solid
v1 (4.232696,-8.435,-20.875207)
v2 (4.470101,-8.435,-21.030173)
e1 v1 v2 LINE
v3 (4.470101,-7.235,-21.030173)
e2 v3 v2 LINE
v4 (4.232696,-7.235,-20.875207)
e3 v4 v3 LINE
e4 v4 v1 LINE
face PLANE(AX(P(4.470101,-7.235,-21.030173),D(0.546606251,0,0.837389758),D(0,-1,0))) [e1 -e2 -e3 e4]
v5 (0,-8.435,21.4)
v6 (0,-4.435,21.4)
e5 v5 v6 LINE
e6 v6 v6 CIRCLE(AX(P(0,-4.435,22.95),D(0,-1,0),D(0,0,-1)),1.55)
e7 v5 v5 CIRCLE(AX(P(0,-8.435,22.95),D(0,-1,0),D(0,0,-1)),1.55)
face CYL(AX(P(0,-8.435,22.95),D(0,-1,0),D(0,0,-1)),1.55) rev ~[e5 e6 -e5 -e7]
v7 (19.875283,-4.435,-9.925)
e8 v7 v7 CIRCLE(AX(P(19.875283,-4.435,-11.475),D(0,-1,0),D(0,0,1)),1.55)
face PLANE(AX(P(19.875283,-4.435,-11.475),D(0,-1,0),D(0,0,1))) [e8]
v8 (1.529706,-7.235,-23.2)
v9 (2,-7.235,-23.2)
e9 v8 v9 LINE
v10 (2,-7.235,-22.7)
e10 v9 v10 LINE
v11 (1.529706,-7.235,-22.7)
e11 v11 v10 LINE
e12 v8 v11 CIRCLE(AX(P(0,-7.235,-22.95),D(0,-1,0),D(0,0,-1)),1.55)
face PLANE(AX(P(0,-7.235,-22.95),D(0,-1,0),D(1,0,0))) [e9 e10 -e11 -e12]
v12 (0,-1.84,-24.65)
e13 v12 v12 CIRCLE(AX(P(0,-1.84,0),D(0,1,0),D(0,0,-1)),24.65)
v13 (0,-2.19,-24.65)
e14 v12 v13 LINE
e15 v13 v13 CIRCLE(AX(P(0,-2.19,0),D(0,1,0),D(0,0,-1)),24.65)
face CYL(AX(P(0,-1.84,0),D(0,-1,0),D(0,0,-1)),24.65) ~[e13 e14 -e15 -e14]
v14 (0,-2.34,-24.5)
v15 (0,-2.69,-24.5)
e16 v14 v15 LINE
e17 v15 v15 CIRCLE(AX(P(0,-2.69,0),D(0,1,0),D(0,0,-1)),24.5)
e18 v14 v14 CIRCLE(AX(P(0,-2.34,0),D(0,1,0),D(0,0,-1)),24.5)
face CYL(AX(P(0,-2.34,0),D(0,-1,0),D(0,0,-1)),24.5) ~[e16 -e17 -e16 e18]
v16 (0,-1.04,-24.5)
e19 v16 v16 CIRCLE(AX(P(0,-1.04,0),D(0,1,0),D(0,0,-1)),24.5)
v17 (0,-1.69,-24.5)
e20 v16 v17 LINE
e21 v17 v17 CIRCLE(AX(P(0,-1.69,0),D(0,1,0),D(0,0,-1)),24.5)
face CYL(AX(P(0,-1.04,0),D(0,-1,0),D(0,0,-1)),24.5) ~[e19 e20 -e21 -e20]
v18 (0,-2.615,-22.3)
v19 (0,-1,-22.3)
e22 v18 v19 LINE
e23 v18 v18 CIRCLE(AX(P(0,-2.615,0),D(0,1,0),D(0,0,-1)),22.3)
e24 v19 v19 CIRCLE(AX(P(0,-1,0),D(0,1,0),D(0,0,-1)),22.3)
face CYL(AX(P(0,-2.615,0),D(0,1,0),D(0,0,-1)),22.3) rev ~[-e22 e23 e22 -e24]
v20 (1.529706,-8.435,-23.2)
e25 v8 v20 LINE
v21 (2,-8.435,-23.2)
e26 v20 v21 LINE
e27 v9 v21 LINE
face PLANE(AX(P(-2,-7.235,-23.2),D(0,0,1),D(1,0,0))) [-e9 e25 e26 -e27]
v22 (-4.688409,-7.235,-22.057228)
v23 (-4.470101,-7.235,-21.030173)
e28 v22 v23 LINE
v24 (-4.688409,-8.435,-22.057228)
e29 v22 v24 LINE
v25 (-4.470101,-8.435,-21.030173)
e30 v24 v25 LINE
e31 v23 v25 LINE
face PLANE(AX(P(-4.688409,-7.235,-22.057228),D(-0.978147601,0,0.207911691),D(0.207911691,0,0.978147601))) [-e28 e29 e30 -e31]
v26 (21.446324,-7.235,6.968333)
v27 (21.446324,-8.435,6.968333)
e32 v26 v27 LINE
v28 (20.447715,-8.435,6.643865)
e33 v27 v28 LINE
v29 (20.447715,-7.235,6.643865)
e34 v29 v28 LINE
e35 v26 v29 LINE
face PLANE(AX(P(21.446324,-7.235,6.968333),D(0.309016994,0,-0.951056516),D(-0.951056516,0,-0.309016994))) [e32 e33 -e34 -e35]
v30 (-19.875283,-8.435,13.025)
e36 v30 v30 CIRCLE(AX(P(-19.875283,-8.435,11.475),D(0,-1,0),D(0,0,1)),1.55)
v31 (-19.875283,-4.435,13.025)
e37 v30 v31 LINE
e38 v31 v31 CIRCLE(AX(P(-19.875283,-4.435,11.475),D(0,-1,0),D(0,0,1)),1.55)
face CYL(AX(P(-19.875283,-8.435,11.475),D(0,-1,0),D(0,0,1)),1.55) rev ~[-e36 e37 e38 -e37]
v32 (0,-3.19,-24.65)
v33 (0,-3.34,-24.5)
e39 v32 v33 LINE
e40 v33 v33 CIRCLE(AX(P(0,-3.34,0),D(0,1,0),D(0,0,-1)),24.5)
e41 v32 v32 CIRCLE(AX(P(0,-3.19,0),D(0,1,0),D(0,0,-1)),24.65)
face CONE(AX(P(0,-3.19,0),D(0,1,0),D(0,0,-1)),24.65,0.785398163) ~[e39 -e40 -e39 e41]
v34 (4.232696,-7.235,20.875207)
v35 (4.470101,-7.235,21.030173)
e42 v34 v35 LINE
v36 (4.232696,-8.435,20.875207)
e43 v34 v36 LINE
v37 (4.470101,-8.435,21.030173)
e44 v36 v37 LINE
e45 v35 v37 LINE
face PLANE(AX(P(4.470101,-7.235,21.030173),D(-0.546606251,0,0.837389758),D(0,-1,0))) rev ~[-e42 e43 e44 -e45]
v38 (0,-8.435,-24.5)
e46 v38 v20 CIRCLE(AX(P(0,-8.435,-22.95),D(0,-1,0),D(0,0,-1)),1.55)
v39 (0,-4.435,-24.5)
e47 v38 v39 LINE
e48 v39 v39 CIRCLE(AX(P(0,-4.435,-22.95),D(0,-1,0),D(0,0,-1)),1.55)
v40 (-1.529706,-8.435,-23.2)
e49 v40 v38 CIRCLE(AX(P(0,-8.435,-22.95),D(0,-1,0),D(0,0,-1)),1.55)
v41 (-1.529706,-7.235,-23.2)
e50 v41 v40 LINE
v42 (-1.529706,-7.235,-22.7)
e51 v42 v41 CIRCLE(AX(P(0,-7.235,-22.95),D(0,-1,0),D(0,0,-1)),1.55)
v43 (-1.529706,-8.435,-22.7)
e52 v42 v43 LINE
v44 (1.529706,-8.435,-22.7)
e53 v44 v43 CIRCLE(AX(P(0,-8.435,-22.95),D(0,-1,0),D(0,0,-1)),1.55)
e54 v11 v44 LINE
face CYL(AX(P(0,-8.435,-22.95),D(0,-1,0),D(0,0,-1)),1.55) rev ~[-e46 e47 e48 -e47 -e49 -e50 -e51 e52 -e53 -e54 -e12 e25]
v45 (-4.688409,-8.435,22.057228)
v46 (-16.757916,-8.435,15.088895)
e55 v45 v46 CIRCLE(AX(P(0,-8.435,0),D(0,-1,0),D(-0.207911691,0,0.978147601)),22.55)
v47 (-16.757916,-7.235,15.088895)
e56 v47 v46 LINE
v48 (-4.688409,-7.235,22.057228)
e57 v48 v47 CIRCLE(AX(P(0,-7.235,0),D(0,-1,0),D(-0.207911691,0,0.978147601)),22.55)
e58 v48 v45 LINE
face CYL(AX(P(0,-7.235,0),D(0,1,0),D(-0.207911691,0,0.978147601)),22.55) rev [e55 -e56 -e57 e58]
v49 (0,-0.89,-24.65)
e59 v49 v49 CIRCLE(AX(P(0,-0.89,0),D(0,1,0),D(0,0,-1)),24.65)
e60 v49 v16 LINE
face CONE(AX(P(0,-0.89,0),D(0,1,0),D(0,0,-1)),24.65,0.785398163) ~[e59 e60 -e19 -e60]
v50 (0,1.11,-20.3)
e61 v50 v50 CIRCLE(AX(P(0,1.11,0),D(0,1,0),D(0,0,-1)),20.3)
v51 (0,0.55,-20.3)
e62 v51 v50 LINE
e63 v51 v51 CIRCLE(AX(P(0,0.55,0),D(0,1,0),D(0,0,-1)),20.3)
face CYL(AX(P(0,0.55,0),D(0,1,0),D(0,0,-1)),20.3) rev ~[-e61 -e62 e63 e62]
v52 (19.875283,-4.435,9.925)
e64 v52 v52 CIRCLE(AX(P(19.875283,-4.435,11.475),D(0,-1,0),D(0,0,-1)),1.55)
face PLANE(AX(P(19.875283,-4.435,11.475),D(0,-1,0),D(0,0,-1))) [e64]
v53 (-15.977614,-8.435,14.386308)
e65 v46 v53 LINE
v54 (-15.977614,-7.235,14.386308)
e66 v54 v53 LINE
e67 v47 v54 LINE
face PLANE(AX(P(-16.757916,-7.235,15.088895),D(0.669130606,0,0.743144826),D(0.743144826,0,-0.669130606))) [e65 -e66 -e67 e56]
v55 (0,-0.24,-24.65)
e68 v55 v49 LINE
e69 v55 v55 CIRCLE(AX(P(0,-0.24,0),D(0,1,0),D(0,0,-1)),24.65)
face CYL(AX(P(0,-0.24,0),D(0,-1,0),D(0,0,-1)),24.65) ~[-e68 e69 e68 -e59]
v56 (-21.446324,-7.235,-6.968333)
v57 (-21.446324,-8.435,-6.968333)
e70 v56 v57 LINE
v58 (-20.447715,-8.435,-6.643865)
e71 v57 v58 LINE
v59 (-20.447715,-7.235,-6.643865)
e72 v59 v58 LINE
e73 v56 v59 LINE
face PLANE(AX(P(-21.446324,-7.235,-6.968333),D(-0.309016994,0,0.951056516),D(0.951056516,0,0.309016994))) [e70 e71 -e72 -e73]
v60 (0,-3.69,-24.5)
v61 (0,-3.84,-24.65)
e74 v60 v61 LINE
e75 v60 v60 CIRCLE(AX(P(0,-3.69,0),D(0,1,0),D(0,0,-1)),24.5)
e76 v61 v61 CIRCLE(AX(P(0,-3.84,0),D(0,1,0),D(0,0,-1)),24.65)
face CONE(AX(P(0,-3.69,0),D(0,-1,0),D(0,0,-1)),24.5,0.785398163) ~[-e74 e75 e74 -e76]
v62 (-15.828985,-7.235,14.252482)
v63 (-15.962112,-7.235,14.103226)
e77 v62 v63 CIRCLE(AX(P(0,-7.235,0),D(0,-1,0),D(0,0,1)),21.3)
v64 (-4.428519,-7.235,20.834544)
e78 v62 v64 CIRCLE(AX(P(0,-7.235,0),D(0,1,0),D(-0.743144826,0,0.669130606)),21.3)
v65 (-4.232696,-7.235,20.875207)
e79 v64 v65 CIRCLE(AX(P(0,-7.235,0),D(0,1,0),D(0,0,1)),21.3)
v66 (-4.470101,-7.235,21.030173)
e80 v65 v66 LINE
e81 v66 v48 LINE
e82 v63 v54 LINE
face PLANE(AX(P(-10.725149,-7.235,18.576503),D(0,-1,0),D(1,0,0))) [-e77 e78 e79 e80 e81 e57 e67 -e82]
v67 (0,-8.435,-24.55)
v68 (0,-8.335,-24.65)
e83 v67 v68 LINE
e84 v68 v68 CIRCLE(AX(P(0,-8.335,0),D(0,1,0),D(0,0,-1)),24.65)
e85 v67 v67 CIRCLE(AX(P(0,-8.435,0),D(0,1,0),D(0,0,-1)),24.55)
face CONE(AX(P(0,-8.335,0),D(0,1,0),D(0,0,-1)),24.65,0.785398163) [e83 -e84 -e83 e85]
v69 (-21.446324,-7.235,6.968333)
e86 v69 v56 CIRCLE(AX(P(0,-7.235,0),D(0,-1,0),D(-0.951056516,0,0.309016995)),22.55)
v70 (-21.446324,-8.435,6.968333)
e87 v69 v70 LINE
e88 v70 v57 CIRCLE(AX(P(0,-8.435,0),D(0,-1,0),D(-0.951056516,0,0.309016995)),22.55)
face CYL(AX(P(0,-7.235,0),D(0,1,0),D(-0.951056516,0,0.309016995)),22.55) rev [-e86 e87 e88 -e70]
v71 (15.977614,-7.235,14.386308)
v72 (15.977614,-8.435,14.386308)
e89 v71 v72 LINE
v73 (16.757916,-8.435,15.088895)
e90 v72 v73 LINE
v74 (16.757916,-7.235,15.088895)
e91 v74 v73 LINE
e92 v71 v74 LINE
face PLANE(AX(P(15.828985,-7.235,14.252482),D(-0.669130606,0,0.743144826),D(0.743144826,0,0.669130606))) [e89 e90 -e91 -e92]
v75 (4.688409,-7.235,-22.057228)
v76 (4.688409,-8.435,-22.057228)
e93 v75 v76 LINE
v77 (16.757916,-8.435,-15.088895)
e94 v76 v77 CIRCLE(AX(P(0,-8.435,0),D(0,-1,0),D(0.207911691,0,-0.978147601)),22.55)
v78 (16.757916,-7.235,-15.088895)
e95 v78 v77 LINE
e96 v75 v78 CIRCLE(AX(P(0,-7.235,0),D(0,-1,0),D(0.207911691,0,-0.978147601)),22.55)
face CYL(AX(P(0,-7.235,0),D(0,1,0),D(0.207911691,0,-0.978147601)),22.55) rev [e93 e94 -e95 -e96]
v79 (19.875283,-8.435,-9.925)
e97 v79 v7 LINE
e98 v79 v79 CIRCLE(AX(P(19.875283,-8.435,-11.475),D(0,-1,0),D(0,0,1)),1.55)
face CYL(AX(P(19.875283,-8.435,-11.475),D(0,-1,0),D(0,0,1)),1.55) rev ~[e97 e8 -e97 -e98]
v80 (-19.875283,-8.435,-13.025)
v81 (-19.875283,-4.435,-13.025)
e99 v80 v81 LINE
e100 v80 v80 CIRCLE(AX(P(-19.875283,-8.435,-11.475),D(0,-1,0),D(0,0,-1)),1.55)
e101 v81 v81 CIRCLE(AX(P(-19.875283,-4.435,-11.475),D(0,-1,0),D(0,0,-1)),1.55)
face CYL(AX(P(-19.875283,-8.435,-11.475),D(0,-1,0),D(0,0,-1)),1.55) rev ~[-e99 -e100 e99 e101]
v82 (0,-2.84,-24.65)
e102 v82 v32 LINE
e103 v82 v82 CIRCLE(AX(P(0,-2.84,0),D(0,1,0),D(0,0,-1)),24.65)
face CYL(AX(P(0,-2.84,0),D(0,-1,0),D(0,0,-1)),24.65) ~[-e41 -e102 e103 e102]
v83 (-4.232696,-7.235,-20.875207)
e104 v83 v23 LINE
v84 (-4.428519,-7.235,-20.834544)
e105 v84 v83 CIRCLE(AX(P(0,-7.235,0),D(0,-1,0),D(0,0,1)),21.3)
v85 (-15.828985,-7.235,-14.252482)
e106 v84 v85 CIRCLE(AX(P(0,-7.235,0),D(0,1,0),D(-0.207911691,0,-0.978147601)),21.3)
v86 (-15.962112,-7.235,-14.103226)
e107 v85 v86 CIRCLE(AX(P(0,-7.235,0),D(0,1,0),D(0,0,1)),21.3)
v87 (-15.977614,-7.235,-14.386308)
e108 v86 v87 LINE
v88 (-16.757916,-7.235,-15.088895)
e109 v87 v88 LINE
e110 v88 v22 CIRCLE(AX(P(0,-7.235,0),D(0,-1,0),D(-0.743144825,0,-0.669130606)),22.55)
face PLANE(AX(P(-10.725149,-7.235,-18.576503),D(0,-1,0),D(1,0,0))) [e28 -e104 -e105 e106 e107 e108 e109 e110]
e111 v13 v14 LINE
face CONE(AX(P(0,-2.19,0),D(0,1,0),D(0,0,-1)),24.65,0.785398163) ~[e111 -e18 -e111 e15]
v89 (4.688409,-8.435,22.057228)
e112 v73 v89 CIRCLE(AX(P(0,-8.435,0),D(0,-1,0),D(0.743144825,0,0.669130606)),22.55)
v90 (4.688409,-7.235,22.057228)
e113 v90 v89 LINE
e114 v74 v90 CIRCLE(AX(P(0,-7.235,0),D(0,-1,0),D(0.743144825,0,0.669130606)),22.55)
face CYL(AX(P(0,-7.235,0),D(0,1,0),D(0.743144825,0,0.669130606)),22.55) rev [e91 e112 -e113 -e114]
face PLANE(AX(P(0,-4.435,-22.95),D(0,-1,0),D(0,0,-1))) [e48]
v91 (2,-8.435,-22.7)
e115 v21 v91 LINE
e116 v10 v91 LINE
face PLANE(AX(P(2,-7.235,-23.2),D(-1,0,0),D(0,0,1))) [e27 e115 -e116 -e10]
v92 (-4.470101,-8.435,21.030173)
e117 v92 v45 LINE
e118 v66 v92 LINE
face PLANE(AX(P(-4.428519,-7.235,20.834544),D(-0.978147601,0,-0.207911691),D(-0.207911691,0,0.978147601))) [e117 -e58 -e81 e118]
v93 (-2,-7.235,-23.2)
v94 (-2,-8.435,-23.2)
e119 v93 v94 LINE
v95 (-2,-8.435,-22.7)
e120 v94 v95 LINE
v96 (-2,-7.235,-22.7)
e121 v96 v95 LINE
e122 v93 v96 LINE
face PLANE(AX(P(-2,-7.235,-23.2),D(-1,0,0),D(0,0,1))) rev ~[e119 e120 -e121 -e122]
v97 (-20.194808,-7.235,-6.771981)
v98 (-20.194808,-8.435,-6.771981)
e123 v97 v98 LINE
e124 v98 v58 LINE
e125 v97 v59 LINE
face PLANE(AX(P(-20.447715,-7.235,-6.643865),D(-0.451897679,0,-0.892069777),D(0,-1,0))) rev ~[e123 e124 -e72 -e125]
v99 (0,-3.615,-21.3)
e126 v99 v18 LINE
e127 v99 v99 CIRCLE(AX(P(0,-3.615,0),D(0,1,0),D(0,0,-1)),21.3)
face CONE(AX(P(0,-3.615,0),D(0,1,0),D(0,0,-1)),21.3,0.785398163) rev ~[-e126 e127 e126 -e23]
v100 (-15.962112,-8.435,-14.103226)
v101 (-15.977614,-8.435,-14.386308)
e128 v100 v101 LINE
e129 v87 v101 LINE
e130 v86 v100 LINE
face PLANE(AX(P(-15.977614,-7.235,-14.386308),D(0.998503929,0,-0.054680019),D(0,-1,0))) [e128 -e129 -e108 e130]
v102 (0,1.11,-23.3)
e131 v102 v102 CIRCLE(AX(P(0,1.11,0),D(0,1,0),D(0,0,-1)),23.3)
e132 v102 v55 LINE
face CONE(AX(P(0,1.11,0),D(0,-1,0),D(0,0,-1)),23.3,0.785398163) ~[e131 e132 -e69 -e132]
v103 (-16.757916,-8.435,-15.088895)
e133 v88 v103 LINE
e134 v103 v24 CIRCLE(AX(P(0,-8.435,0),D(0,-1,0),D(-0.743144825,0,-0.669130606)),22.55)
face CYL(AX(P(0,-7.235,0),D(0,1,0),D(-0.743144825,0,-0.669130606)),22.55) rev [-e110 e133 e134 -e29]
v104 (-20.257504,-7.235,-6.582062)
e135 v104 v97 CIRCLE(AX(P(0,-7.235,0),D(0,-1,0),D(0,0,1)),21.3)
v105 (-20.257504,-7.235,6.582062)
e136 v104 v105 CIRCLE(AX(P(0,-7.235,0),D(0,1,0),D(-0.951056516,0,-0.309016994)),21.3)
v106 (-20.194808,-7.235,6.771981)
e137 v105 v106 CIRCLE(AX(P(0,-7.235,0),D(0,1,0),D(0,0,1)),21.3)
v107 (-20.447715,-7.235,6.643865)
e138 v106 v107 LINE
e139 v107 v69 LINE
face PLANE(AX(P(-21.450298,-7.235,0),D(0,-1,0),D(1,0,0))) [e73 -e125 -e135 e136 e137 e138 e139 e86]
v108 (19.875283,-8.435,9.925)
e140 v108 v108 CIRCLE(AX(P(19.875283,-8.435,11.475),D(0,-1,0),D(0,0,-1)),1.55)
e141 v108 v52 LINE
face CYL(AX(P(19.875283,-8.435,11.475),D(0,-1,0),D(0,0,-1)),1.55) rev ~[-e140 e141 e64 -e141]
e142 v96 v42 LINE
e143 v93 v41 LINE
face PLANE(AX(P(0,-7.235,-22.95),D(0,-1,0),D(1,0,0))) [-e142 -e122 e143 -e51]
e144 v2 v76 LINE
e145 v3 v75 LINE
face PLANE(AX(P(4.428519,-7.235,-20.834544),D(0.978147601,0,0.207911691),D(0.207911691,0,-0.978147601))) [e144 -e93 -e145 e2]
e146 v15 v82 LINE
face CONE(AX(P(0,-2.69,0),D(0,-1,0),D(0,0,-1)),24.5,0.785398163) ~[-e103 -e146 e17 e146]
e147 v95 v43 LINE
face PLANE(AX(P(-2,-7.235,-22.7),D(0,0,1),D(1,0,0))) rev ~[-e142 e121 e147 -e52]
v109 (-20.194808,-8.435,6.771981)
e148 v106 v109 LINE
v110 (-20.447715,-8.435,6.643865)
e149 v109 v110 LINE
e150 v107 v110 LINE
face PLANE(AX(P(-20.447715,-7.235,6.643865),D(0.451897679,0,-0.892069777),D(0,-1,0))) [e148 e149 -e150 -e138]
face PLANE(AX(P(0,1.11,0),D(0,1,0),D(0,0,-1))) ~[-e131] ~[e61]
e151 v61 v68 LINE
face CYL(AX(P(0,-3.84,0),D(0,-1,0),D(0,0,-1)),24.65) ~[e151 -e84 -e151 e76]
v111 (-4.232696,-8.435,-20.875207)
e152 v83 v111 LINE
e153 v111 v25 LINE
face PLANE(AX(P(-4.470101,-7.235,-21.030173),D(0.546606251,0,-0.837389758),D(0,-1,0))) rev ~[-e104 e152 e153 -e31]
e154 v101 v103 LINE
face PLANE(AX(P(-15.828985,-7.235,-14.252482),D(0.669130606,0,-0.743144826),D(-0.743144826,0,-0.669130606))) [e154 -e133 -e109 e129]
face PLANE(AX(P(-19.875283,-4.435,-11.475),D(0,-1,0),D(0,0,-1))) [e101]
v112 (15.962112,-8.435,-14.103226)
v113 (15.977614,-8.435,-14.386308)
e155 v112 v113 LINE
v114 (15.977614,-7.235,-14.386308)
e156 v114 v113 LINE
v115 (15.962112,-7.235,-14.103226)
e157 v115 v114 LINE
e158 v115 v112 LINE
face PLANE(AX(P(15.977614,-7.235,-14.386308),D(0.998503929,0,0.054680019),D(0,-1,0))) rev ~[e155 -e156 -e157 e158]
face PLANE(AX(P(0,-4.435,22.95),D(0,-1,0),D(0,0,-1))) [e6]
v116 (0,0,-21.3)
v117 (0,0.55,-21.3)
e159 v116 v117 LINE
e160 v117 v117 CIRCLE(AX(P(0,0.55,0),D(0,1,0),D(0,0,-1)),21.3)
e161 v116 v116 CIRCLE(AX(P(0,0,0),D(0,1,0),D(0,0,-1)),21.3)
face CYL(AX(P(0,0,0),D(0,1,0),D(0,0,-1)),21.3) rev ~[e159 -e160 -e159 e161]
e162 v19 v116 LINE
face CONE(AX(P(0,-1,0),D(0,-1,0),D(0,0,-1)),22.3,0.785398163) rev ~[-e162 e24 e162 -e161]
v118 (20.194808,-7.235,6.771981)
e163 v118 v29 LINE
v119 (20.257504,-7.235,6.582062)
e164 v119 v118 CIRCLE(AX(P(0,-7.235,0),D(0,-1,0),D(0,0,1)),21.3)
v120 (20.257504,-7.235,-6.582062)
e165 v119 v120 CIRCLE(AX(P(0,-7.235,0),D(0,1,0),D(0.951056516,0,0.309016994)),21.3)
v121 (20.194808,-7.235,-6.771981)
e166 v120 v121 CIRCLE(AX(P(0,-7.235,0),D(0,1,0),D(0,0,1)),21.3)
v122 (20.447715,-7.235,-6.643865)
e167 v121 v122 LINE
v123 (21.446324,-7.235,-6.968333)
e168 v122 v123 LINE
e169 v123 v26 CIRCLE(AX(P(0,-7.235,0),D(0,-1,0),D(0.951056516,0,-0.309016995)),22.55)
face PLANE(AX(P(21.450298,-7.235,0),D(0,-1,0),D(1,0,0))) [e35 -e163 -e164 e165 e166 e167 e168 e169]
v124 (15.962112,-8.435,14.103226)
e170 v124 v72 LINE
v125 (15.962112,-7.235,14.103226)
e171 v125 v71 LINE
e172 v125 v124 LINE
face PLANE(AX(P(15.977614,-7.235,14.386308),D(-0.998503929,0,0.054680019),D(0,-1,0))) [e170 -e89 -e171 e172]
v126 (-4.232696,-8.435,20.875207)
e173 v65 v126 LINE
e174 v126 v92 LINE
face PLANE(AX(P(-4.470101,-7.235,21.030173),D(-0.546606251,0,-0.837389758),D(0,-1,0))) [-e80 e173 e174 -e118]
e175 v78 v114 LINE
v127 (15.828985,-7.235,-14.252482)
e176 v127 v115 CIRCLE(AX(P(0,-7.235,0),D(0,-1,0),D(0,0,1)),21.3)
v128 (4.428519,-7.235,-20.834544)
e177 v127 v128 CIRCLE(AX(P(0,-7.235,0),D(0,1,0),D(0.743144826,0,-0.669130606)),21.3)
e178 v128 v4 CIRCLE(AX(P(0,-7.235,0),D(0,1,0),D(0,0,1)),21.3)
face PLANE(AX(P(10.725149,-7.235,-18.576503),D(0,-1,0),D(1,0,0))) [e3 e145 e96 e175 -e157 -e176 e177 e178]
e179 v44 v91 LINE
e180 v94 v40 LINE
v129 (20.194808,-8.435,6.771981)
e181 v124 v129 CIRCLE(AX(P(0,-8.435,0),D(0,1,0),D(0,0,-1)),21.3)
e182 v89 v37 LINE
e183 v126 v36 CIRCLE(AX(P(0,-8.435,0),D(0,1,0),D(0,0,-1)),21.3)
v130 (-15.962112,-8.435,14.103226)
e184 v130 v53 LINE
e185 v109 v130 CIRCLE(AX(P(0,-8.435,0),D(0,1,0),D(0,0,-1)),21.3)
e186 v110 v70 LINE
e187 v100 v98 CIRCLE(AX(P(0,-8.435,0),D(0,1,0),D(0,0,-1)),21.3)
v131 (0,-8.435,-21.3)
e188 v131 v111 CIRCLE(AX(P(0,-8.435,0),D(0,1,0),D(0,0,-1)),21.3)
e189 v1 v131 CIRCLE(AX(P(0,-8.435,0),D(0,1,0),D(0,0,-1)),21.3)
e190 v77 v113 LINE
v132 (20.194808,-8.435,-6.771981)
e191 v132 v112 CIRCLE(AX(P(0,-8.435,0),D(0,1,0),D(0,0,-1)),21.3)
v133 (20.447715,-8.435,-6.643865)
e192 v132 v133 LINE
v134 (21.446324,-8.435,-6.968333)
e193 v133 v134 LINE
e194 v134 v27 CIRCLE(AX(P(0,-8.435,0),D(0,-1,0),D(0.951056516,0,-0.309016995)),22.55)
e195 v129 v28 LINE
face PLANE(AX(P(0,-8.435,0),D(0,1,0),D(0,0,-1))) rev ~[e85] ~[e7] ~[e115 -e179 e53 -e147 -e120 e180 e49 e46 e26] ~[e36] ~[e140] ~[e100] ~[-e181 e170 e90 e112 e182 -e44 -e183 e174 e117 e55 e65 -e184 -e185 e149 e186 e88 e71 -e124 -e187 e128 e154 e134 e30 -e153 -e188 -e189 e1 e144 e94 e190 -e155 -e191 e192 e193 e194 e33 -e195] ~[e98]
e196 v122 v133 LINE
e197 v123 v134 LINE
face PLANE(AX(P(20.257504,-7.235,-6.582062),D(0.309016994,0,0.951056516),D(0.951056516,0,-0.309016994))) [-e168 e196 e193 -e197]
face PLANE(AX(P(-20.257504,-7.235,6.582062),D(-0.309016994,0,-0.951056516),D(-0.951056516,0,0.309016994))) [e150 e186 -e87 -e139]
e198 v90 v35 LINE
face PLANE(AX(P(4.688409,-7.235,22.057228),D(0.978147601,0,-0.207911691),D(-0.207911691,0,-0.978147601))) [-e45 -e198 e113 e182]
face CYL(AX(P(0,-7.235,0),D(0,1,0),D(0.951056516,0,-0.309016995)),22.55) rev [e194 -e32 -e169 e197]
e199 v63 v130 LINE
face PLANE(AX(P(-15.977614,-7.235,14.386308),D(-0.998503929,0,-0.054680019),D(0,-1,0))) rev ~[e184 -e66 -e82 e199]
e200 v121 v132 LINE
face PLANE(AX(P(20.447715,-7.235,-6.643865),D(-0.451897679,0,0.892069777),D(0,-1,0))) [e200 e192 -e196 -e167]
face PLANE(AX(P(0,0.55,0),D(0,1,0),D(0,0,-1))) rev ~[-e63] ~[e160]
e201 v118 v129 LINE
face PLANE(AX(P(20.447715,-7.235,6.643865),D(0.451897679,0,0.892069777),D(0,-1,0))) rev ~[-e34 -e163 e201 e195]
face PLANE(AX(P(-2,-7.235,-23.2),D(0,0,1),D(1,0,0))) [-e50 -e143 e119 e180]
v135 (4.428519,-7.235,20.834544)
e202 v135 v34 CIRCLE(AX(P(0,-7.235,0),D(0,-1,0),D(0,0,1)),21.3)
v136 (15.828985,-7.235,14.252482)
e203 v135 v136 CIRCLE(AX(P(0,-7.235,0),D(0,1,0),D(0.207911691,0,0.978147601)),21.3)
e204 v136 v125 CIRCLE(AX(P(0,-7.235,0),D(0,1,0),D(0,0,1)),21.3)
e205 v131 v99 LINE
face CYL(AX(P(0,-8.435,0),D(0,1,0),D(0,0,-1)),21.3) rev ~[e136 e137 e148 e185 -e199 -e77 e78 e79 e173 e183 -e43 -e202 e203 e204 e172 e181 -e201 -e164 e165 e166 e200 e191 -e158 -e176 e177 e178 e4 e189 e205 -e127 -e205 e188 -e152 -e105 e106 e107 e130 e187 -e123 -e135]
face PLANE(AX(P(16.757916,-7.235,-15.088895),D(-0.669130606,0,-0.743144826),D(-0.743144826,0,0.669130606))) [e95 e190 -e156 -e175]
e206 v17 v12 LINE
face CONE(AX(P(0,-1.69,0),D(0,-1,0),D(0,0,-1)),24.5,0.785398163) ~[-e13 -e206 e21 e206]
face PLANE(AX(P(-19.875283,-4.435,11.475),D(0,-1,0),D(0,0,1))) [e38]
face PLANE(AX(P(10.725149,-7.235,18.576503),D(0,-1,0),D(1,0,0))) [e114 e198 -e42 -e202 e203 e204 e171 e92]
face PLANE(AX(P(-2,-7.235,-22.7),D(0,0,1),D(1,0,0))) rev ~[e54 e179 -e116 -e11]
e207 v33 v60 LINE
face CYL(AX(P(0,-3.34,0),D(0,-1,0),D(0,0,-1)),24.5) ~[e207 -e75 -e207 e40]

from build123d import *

# Parameters (mm, degrees)
SKETCH_2_R          = 1.55
CUT_EXTRUDE_1_DEPTH = 4
CUT_EXTRUDE_START   = -1.2
SKETCH_3_W          = 4
SKETCH_3_H          = 0.5
CUT_EXTRUDE_2_DEPTH = 1.2
CHAMFER_1_SIZE      = 0.2
CHAMFER_2_SIZE      = 0.1


with BuildPart() as part:
    # 草图1 → 旋转1 (revolve)
    with BuildSketch(Plane.XY, mode=Mode.PRIVATE) as revolve_1_sk:
        Polygon((-21.3, 0), (-21.3, 0.55), (-20.3, 0.55), (-20.3, 1.11), (-23.3, 1.11), (-24.65, -0.24), (-24.65, -0.89), (-24.5, -1.04), (-24.5, -1.69), (-24.65, -1.84), (-24.65, -2.19), (-24.5, -2.34), (-24.5, -2.69), (-24.65, -2.84), (-24.65, -3.19), (-24.5, -3.34), (-24.5, -3.69), (-24.65, -3.84), (-24.65, -8.435), (-21.3, -8.435), (-21.3, -3.615), (-22.3, -2.615), (-22.3, -1), align=None)
    revolve(revolve_1_sk.sketch.rotate(Axis((0, 0.266506915, 0), (0, 1, 0)), 270), axis=Axis((0, 0.266506915, 0), (0, 1, 0)))

    # 草图2 → 切除-拉伸1 (cut)
    with BuildSketch(Plane.XZ.offset(8.435)):
        with Locations(Location((19.875283017, 11.475, 0), (0, 0, 270))):
            Circle(SKETCH_2_R)
        with Locations(Location((19.875283017, -11.475, 0), (0, 0, 90))):
            Circle(SKETCH_2_R)
        with Locations(Location((-19.875283017, -11.475, 0), (0, 0, 270))):
            Circle(SKETCH_2_R)
        with Locations(Location((-19.875283017, 11.475, 0), (0, 0, 90))):
            Circle(SKETCH_2_R)
        with Locations(Location((0, 22.95, 0), (0, 0, 270))):
            Circle(SKETCH_2_R)
        with Locations(Location((0, -22.95, 0), (0, 0, 270))):
            Circle(SKETCH_2_R)
    extrude(amount=-CUT_EXTRUDE_1_DEPTH, mode=Mode.SUBTRACT)

    # 草图3 → 切除-拉伸2 (cut)
    with BuildSketch(Plane.XZ.offset(8.435).offset(CUT_EXTRUDE_START)):
        with BuildLine():
            Line((-16.757915815, 15.088895173), (-15.828984783, 14.252481915))
            ThreePointArc((-15.828984783, 14.252481915), (-10.65, 18.446341101), (-4.428519014, 20.834543896))
            Line((-4.428519014, 20.834543896), (-4.688408628, 22.057228397))
            ThreePointArc((-4.688408628, 22.057228397), (-11.275, 19.528872855), (-16.757915815, 15.088895173))
        make_face()
        with BuildLine():
            Line((4.688408628, 22.057228397), (4.428519014, 20.834543896))
            ThreePointArc((4.428519014, 20.834543896), (10.65, 18.446341101), (15.828984783, 14.252481915))
            Line((15.828984783, 14.252481915), (16.757915815, 15.088895173))
            ThreePointArc((16.757915815, 15.088895173), (11.275, 19.528872855), (4.688408628, 22.057228397))
        make_face()
        with BuildLine():
            Line((16.757915815, -15.088895173), (15.828984783, -14.252481915))
            ThreePointArc((15.828984783, -14.252481915), (10.65, -18.446341101), (4.428519014, -20.834543896))
            Line((4.428519014, -20.834543896), (4.688408628, -22.057228397))
            ThreePointArc((4.688408628, -22.057228397), (11.275, -19.528872855), (16.757915815, -15.088895173))
        make_face()
        with BuildLine():
            Line((21.446324442, 6.968333223), (20.257503797, 6.58206198))
            ThreePointArc((20.257503797, 6.58206198), (21.3, 0), (20.257503797, -6.58206198))
            Line((20.257503797, -6.58206198), (21.446324442, -6.968333223))
            ThreePointArc((21.446324442, -6.968333223), (22.55, 0), (21.446324442, 6.968333223))
        make_face()
        with BuildLine():
            Line((-21.446324442, -6.968333223), (-20.257503797, -6.58206198))
            ThreePointArc((-20.257503797, -6.58206198), (-21.3, 0), (-20.257503797, 6.58206198))
            Line((-20.257503797, 6.58206198), (-21.446324442, 6.968333223))
            ThreePointArc((-21.446324442, 6.968333223), (-22.55, 0), (-21.446324442, -6.968333223))
        make_face()
        with BuildLine():
            Line((-4.688408628, -22.057228397), (-4.428519014, -20.834543896))
            ThreePointArc((-4.428519014, -20.834543896), (-10.65, -18.446341101), (-15.828984783, -14.252481915))
            Line((-15.828984783, -14.252481915), (-16.757915815, -15.088895173))
            ThreePointArc((-16.757915815, -15.088895173), (-11.275, -19.528872855), (-4.688408628, -22.057228397))
        make_face()
        with Locations((0, -22.95)):
            Rectangle(SKETCH_3_W, SKETCH_3_H)
    extrude(amount=CUT_EXTRUDE_2_DEPTH, mode=Mode.SUBTRACT)

    # 倒角1
    chamfer_1_edges = [part.edges().sort_by_distance(p)[0] for p in [
        (-20.257503797, -7.835, 6.58206198),
        (-20.257503797, -7.835, -6.58206198),
        (20.257503797, -7.835, -6.58206198),
        (20.257503797, -7.835, 6.58206198),
        (4.428519014, -7.835, -20.834543896),
        (15.828984783, -7.835, -14.252481915),
        (15.828984783, -7.835, 14.252481915),
        (4.428519014, -7.835, 20.834543896),
        (-15.828984783, -7.835, -14.252481915),
        (-4.428519014, -7.835, -20.834543896),
        (-4.428519014, -7.835, 20.834543896),
        (-15.828984783, -7.835, 14.252481915),
    ]]
    chamfer(chamfer_1_edges, length=CHAMFER_1_SIZE)

    # 倒角2
    chamfer_2_edges = [part.edges().sort_by_distance(p)[0] for p in [
        (0, -8.435, 24.65),
    ]]
    chamfer(chamfer_2_edges, length=CHAMFER_2_SIZE)


solid = part.part
